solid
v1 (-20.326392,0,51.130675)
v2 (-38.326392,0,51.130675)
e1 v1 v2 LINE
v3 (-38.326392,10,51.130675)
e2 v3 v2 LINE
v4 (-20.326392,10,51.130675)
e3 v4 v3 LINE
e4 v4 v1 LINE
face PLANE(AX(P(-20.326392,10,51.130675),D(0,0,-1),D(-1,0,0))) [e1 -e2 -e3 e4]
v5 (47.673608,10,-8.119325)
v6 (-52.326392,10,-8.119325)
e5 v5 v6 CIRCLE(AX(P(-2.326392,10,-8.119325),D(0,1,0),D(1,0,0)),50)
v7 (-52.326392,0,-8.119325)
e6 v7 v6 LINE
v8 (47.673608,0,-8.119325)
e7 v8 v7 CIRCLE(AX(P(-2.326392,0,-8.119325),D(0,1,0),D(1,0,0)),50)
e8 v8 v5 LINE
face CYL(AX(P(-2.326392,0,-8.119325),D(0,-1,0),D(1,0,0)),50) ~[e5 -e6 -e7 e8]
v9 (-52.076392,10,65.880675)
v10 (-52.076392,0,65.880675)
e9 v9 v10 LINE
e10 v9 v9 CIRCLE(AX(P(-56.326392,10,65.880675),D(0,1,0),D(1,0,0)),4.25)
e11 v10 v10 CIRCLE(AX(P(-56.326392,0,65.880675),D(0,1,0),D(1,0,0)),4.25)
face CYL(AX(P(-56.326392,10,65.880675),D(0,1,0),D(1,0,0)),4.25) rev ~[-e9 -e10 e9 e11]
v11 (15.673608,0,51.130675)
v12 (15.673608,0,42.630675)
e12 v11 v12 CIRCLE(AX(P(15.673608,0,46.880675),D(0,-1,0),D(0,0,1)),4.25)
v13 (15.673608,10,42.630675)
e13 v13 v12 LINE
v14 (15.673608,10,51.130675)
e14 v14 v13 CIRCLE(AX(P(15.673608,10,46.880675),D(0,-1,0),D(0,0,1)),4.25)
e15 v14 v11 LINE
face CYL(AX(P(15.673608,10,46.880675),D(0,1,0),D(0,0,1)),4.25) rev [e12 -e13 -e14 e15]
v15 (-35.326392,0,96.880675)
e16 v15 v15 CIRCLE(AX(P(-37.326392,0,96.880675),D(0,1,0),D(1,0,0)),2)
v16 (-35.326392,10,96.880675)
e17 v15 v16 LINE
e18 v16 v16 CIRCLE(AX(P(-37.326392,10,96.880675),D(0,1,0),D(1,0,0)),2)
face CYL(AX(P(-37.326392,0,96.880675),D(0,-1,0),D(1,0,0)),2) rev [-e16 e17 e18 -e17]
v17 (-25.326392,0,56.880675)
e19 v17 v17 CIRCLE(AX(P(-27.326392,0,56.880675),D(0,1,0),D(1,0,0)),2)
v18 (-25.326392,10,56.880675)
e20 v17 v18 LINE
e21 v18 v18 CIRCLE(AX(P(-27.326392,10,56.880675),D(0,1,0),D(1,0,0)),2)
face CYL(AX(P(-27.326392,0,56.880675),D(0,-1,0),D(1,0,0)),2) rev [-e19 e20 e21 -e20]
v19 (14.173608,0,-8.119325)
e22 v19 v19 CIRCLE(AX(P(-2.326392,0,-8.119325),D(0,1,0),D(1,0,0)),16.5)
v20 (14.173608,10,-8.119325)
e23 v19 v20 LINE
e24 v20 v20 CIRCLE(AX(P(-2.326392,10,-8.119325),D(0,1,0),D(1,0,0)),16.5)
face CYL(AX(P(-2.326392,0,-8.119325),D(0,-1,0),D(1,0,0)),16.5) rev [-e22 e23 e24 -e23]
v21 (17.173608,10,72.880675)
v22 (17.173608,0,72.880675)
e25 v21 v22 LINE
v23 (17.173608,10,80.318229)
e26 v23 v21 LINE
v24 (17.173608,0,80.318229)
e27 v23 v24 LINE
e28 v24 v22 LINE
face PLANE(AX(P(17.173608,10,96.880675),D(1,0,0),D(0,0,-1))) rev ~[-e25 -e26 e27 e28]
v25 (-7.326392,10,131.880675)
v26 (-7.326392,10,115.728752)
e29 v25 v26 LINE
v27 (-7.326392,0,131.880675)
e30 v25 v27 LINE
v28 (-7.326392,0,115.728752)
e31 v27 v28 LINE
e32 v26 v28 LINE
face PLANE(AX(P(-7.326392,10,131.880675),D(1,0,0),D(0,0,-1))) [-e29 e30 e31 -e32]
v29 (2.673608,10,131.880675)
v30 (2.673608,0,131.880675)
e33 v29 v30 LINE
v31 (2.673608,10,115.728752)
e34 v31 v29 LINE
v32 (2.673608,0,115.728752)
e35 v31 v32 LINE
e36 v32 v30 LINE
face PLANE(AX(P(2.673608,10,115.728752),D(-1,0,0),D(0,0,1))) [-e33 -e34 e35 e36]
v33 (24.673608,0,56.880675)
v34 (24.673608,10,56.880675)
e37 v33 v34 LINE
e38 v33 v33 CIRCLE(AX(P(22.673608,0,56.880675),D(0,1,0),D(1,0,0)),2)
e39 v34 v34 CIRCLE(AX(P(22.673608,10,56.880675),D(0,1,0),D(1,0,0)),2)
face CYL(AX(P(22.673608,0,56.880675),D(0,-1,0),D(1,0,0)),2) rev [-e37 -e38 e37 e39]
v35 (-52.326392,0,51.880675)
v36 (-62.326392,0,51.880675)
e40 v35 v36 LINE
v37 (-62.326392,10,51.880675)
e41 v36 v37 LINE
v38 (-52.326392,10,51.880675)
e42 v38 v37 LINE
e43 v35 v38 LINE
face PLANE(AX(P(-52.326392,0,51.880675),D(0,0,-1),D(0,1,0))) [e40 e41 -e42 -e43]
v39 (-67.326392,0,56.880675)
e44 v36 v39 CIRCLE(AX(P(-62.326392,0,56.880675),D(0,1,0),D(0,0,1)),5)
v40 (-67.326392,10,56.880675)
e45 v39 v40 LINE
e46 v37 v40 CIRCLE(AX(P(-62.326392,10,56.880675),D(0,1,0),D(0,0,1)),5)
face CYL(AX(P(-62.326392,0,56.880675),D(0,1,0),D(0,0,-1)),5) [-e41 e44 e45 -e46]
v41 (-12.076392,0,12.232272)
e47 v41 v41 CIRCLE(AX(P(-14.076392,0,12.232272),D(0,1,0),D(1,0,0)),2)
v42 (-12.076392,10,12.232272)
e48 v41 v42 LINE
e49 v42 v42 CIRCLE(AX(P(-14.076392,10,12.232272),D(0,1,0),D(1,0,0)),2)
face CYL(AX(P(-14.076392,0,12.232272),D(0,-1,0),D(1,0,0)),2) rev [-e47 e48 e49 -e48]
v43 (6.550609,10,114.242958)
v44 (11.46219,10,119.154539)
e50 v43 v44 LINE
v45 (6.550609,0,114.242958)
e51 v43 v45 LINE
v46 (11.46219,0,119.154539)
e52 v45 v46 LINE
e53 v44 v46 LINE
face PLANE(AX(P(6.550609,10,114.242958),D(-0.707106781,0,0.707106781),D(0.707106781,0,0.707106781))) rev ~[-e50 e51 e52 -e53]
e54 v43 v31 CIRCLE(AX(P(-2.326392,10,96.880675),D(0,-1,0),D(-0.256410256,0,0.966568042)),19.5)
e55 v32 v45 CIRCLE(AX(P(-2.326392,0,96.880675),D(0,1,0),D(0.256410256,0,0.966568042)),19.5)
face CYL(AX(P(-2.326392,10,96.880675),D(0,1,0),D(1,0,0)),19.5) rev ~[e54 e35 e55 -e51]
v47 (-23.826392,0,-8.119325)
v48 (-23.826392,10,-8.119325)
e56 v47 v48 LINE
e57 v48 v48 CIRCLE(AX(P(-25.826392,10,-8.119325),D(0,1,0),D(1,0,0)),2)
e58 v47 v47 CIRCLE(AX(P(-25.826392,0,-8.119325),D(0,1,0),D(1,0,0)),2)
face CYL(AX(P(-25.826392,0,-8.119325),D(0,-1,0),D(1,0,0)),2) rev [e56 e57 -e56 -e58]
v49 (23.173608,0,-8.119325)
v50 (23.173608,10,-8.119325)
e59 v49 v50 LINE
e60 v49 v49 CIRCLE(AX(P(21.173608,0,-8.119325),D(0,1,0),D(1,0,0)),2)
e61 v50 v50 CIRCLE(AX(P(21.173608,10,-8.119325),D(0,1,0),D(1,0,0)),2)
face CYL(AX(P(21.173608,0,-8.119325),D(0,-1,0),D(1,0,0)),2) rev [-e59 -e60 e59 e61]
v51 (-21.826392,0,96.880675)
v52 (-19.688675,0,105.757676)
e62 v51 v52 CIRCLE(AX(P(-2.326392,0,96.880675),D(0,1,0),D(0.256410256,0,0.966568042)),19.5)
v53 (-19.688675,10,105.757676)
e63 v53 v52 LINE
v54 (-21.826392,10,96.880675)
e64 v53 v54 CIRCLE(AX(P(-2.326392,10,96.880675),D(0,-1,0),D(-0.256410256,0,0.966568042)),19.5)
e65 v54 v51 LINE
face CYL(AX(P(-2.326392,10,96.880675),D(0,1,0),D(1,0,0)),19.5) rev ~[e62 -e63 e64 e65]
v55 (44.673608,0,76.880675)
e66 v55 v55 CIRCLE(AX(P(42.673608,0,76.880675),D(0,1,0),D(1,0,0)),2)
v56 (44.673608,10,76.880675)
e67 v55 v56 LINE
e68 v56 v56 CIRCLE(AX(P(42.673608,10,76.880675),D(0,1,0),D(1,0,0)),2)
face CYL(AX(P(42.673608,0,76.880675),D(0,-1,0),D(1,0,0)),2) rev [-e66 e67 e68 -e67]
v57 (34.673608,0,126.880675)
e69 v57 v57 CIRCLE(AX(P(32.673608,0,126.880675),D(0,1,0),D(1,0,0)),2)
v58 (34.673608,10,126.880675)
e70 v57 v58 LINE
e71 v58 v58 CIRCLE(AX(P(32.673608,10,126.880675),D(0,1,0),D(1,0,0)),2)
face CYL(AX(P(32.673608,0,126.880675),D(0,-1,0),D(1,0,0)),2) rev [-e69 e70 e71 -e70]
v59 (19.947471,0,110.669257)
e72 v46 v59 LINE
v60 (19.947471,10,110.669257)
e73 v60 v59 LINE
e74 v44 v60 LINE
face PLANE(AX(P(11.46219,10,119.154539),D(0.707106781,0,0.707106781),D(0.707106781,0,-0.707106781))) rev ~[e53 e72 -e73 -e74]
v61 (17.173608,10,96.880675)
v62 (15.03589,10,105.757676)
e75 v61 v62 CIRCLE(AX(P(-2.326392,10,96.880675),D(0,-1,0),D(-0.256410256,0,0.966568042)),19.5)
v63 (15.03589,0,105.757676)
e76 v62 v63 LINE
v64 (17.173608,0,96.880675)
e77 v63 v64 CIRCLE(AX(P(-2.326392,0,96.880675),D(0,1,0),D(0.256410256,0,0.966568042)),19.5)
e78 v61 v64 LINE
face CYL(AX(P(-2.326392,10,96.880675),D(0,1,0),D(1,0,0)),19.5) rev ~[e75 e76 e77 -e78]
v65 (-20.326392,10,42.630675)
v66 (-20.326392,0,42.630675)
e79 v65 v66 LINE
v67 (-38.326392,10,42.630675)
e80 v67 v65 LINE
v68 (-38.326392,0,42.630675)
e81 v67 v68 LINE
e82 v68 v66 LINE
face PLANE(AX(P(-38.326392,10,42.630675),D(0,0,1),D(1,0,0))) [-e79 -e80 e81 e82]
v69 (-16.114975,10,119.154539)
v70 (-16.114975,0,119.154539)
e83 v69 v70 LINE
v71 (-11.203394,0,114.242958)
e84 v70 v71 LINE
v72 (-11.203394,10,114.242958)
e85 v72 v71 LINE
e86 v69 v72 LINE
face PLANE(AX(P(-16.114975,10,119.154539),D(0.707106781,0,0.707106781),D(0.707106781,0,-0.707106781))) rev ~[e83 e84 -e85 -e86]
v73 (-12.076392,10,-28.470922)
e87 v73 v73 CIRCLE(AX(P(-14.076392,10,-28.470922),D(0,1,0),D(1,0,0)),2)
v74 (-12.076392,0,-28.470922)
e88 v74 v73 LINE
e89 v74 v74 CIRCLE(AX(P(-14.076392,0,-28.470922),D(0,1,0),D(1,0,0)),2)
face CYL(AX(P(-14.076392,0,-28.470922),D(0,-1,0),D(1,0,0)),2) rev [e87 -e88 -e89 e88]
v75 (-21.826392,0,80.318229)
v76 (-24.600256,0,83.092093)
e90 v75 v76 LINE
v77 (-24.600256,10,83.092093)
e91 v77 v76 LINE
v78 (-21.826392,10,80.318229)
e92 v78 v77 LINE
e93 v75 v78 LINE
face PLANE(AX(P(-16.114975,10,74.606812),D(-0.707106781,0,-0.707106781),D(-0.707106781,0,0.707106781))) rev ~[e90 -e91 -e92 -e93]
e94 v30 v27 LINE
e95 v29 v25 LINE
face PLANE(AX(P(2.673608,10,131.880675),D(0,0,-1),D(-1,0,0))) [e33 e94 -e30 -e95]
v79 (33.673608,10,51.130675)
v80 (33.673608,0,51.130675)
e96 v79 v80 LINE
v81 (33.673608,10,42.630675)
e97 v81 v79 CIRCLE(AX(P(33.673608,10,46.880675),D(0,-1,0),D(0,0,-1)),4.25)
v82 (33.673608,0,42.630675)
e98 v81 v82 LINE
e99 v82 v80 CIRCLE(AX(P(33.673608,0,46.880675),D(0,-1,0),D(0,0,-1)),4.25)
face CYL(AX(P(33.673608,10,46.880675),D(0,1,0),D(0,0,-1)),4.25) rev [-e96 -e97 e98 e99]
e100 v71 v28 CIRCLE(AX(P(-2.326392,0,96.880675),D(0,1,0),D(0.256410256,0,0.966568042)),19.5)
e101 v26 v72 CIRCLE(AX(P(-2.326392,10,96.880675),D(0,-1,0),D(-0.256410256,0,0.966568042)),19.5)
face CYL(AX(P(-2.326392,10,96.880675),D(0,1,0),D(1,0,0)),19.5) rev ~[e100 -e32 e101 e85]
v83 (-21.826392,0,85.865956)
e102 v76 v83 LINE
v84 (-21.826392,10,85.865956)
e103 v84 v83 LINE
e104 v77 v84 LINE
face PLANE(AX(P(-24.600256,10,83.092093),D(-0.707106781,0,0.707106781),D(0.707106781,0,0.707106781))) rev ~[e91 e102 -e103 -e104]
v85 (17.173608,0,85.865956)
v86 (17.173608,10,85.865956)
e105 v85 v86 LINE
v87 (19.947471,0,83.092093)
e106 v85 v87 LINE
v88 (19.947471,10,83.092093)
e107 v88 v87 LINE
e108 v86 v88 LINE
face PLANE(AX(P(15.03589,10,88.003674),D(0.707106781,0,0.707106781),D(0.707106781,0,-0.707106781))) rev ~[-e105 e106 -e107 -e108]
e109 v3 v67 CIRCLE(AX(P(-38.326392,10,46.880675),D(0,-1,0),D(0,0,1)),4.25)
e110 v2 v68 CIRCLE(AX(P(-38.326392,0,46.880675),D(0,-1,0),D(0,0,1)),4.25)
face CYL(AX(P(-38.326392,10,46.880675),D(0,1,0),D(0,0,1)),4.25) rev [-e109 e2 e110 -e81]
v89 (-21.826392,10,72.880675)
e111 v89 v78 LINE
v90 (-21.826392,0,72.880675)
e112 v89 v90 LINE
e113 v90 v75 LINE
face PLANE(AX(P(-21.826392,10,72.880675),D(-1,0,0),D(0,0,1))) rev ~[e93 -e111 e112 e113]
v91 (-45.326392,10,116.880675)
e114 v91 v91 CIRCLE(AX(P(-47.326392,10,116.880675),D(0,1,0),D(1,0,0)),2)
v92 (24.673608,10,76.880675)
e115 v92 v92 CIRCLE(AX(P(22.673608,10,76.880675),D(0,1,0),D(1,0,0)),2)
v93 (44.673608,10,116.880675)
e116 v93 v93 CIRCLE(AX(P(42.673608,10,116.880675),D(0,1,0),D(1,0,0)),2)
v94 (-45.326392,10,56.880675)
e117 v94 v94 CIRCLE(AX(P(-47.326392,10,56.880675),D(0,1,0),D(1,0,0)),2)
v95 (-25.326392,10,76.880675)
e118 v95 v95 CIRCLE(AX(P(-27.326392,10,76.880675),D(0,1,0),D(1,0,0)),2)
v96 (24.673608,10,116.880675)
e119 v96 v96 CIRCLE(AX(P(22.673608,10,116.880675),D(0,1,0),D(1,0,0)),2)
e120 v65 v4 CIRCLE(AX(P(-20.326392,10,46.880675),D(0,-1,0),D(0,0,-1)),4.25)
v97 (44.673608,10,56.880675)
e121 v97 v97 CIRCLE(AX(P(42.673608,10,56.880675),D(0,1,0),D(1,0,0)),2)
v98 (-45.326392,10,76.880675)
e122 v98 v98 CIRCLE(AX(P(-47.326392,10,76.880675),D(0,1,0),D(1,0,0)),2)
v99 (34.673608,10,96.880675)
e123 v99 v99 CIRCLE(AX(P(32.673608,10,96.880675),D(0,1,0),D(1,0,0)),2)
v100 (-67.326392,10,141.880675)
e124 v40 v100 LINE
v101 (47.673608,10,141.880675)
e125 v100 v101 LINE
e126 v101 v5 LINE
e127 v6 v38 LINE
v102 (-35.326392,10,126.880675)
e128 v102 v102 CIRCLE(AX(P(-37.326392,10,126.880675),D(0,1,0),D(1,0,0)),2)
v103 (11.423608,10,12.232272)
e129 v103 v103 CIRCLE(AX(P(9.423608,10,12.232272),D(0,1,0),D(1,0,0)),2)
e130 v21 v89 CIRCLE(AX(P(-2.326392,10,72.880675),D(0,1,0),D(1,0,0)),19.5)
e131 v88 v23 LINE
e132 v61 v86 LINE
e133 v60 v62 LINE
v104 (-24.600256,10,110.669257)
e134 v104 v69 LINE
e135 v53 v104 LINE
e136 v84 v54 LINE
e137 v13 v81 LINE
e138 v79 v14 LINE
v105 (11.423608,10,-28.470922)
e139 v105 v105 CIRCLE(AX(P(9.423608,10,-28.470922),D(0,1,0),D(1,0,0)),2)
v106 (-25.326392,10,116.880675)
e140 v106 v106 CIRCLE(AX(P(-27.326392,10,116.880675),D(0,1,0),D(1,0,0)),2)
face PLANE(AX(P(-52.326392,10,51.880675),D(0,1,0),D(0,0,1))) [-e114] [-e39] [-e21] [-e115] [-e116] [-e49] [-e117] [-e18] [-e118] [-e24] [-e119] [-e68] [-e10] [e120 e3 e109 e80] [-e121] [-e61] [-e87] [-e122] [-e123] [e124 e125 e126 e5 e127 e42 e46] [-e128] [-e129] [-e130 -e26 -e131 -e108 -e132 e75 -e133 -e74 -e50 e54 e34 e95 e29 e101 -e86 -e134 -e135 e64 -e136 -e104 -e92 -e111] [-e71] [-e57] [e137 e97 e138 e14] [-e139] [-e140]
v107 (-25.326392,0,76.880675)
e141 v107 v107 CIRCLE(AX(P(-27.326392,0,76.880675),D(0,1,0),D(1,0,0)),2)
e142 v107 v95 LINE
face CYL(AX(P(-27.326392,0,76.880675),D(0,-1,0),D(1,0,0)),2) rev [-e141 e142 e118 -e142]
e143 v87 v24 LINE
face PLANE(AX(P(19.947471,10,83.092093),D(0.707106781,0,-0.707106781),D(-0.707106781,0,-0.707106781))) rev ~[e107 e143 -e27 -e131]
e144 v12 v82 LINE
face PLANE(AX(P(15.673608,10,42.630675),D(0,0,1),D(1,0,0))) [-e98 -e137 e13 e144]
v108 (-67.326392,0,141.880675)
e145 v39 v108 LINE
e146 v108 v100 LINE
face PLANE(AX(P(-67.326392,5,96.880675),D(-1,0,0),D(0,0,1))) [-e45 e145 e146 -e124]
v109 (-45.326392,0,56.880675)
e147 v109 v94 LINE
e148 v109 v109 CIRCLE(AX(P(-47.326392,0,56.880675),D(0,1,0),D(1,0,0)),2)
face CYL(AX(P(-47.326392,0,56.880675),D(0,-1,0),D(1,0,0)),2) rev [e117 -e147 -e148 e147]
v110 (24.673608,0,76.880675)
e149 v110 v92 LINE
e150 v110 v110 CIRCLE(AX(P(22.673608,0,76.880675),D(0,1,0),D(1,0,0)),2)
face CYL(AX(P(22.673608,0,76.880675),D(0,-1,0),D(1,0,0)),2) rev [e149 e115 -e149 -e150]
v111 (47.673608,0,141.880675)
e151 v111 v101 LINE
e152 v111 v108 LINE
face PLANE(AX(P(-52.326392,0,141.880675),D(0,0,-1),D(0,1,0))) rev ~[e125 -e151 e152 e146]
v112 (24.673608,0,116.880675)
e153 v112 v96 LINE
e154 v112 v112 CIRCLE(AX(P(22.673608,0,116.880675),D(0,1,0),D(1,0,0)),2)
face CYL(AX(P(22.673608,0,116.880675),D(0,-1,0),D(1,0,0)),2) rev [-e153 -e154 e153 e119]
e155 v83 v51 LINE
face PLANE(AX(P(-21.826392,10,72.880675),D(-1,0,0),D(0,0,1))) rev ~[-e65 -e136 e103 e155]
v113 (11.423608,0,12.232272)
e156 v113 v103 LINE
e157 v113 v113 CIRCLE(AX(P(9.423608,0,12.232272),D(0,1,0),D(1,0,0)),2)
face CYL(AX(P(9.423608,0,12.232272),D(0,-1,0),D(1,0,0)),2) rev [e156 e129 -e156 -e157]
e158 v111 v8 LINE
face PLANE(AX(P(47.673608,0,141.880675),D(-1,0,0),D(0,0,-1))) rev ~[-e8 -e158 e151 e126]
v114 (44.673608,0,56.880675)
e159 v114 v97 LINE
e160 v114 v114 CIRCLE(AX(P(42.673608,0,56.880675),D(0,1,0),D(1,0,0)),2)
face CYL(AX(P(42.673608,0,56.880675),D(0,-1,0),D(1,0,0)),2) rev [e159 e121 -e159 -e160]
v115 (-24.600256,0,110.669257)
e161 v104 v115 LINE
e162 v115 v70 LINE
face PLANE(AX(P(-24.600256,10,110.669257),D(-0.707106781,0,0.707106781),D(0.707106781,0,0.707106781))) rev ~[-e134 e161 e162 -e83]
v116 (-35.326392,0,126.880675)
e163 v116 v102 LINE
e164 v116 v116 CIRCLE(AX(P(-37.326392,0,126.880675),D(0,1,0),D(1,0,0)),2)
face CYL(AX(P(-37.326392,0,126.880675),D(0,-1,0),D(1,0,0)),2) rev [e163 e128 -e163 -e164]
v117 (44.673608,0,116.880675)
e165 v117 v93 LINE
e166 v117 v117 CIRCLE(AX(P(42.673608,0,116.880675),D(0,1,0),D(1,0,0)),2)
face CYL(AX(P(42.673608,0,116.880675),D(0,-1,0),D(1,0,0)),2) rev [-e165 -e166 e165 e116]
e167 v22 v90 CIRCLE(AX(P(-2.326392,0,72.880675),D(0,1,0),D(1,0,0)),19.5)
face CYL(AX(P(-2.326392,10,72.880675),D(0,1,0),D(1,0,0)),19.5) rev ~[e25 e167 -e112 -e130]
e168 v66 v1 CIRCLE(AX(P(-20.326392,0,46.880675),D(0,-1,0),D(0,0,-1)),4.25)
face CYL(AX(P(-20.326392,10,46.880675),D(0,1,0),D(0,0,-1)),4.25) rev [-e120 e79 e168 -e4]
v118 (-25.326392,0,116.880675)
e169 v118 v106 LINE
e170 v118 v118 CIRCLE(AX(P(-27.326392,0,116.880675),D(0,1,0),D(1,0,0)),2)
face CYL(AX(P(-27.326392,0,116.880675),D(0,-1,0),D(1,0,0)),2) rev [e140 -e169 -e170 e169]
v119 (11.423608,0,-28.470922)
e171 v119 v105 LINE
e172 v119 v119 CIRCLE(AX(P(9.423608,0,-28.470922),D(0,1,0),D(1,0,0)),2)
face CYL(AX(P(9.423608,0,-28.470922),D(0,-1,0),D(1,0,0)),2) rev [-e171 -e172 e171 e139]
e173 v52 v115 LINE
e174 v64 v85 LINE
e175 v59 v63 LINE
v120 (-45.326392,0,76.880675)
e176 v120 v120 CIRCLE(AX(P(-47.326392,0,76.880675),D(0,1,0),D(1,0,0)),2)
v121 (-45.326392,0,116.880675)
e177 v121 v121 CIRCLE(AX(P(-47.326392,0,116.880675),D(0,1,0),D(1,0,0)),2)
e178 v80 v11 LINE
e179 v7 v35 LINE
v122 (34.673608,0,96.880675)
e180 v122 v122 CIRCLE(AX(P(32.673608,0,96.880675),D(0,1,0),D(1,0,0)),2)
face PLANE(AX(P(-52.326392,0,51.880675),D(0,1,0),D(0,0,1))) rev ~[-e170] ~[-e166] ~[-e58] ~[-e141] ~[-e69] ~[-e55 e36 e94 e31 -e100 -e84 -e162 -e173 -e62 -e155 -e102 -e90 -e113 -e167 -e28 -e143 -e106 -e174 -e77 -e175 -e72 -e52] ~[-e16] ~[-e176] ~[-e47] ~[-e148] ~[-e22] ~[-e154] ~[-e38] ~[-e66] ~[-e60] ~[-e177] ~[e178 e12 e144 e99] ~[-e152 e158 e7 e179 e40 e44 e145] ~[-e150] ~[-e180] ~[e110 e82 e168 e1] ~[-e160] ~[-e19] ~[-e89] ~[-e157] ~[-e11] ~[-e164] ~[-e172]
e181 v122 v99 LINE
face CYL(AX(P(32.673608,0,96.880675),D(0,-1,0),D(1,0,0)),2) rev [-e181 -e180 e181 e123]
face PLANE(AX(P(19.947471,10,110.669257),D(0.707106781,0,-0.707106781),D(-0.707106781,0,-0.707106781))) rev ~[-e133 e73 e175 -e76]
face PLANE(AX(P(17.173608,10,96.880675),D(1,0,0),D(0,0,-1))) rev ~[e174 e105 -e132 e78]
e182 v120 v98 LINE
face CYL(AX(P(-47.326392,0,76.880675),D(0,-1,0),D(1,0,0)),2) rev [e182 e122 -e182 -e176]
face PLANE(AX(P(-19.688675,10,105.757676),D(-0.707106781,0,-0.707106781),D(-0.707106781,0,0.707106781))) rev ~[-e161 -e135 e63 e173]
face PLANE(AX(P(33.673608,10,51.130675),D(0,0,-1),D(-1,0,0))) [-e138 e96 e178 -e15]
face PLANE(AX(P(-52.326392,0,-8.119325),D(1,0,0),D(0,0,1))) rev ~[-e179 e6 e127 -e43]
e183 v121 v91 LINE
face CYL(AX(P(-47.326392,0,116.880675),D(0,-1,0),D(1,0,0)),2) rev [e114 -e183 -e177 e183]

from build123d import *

# Parameters (mm, degrees)
SKETCH1_R           = 16.5
SKETCH1_R_2         = 2
BOSS_EXTRUDE3_DEPTH = 10
SKETCH2_R           = 19.5
CUT_EXTRUDE1_DEPTH  = 10
CUT_EXTRUDE2_DEPTH  = 10
CUT_EXTRUDE3_DEPTH  = 10
CUT_EXTRUDE6_DEPTH  = 10
SKETCH9_W           = 90
SKETCH9_H           = 10
BOSS_EXTRUDE4_DEPTH = 15
FILLET1_R           = 5
SKETCH10_R          = 4.25
CUT_EXTRUDE7_DEPTH  = 10
CUT_EXTRUDE8_DEPTH  = 10


with BuildPart() as part:
    # Sketch1 → Boss-Extrude3 (new body)
    with BuildSketch(Plane(origin=(0, 0, 0), x_dir=(1, 0, 0), z_dir=(0, 1, 0))):
        with BuildLine():
            Line((-52.326392464, -141.880675109), (47.673607536, -141.880675109))
            Line((47.673607536, -141.880675109), (47.673607536, 8.119324891))
            ThreePointArc((47.673607536, 8.119324891), (-2.326392464, 58.119324891), (-52.326392464, 8.119324891))
            Line((-52.326392464, 8.119324891), (-52.326392464, -141.880675109))
        make_face()
        with Locations((-2.326392464, 8.119324891)):
            Circle(SKETCH1_R, mode=Mode.SUBTRACT)
        with Locations((21.173607536, 8.119324891)):
            Circle(SKETCH1_R_2, mode=Mode.SUBTRACT)
        with Locations((9.423607536, -12.232272098)):
            Circle(SKETCH1_R_2, mode=Mode.SUBTRACT)
        with Locations((-14.076392464, -12.232272098)):
            Circle(SKETCH1_R_2, mode=Mode.SUBTRACT)
        with Locations((-25.826392464, 8.119324891)):
            Circle(SKETCH1_R_2, mode=Mode.SUBTRACT)
        with Locations((-14.076392464, 28.47092188)):
            Circle(SKETCH1_R_2, mode=Mode.SUBTRACT)
        with Locations((9.423607536, 28.47092188)):
            Circle(SKETCH1_R_2, mode=Mode.SUBTRACT)
        with Locations((-47.326392464, -116.880675109)):
            Circle(SKETCH1_R_2, mode=Mode.SUBTRACT)
        with Locations((42.673607536, -116.880675109)):
            Circle(SKETCH1_R_2, mode=Mode.SUBTRACT)
        with Locations((-37.326392464, -126.880675109)):
            Circle(SKETCH1_R_2, mode=Mode.SUBTRACT)
        with Locations((-37.326392464, -96.880675109)):
            Circle(SKETCH1_R_2, mode=Mode.SUBTRACT)
        with Locations((-47.326392464, -76.880675109)):
            Circle(SKETCH1_R_2, mode=Mode.SUBTRACT)
        with Locations((42.673607536, -76.880675109)):
            Circle(SKETCH1_R_2, mode=Mode.SUBTRACT)
        with Locations((-47.326392464, -56.880675109)):
            Circle(SKETCH1_R_2, mode=Mode.SUBTRACT)
        with Locations((42.673607536, -56.880675109)):
            Circle(SKETCH1_R_2, mode=Mode.SUBTRACT)
        with Locations((-27.326392464, -116.880675109)):
            Circle(SKETCH1_R_2, mode=Mode.SUBTRACT)
        with Locations((22.673607536, -116.880675109)):
            Circle(SKETCH1_R_2, mode=Mode.SUBTRACT)
        with Locations((-27.326392464, -56.880675109)):
            Circle(SKETCH1_R_2, mode=Mode.SUBTRACT)
        with Locations((-27.326392464, -76.880675109)):
            Circle(SKETCH1_R_2, mode=Mode.SUBTRACT)
        with Locations((22.673607536, -56.880675109)):
            Circle(SKETCH1_R_2, mode=Mode.SUBTRACT)
        with Locations((22.673607536, -76.880675109)):
            Circle(SKETCH1_R_2, mode=Mode.SUBTRACT)
        with Locations((32.673607536, -96.880675109)):
            Circle(SKETCH1_R_2, mode=Mode.SUBTRACT)
        with Locations((32.673607536, -126.880675109)):
            Circle(SKETCH1_R_2, mode=Mode.SUBTRACT)
    extrude(amount=BOSS_EXTRUDE3_DEPTH)

    # Sketch2 → Cut-Extrude1 (cut)
    with BuildSketch(Plane(origin=(0, 10, 0), x_dir=(1, 0, 0), z_dir=(0, 1, 0))):
        with Locations((-2.326392464, -96.880675109)):
            Circle(SKETCH2_R)
    extrude(amount=-CUT_EXTRUDE1_DEPTH, mode=Mode.SUBTRACT)

    # Sketch3 → Cut-Extrude2 (cut)
    with BuildSketch(Plane(origin=(0, 10, 0), x_dir=(1, 0, 0), z_dir=(0, 1, 0))):
        with BuildLine():
            Line((-7.326392464, -131.880675109), (-7.326392464, -115.728751934))
            ThreePointArc((-7.326392464, -115.728751934), (-2.326392464, -116.380675109), (2.673607536, -115.728751934))
            Line((2.673607536, -115.728751934), (2.673607536, -131.880675109))
            Line((2.673607536, -131.880675109), (-7.326392464, -131.880675109))
        make_face()
    extrude(amount=-CUT_EXTRUDE2_DEPTH, mode=Mode.SUBTRACT)

    # Sketch4 → Cut-Extrude3 (cut)
    with BuildSketch(Plane(origin=(0, 10, 0), x_dir=(1, 0, 0), z_dir=(0, 1, 0))):
        with BuildLine():
            ThreePointArc((-19.688674915, -88.003674033), (-16.114974697, -83.092092876), (-11.203393541, -79.518392659))
            Line((-11.203393541, -79.518392659), (-16.114974697, -74.606811502))
            Line((-16.114974697, -74.606811502), (-24.600256072, -83.092092876))
            Line((-24.600256072, -83.092092876), (-19.688674915, -88.003674033))
        make_face()
        with BuildLine():
            Line((11.462189769, -74.606811502), (6.550608612, -79.518392659))
            ThreePointArc((6.550608612, -79.518392659), (11.462189769, -83.092092876), (15.035889986, -88.003674033))
            Line((15.035889986, -88.003674033), (19.947471143, -83.092092876))
            Line((19.947471143, -83.092092876), (11.462189769, -74.606811502))
        make_face()
        with BuildLine():
            Line((19.947471143, -110.669257342), (15.035889986, -105.757676186))
            ThreePointArc((15.035889986, -105.757676186), (11.462189769, -110.669257342), (6.550608612, -114.24295756))
            Line((6.550608612, -114.24295756), (11.462189769, -119.154538717))
            Line((11.462189769, -119.154538717), (19.947471143, -110.669257342))
        make_face()
        with BuildLine():
            ThreePointArc((-11.203393541, -114.24295756), (-16.114974697, -110.669257342), (-19.688674915, -105.757676186))
            Line((-19.688674915, -105.757676186), (-24.600256072, -110.669257342))
            Line((-24.600256072, -110.669257342), (-16.114974697, -119.154538717))
            Line((-16.114974697, -119.154538717), (-11.203393541, -114.24295756))
        make_face()
    extrude(amount=-CUT_EXTRUDE3_DEPTH, mode=Mode.SUBTRACT)

    # Sketch8 → Cut-Extrude6 (cut)
    with BuildSketch(Plane(origin=(0, 10, 0), x_dir=(1, 0, 0), z_dir=(0, 1, 0))):
        with BuildLine():
            Line((-21.826392464, -96.880675109), (17.173607536, -96.880675109))
            Line((17.173607536, -96.880675109), (17.173607536, -72.880675109))
            ThreePointArc((17.173607536, -72.880675109), (-2.326392464, -53.380675109), (-21.826392464, -72.880675109))
            Line((-21.826392464, -72.880675109), (-21.826392464, -96.880675109))
        make_face()
    extrude(amount=-CUT_EXTRUDE6_DEPTH, mode=Mode.SUBTRACT)

    # Sketch9 → Boss-Extrude4 (add)
    with BuildSketch(Plane.ZY.offset(52.326392464)):
        with Locations((96.880675109, 5)):
            Rectangle(SKETCH9_W, SKETCH9_H)
    extrude(amount=BOSS_EXTRUDE4_DEPTH)

    # Fillet1
    fillet1_edges = [part.edges().sort_by_distance(p)[0] for p in [
        (-67.326392464, 5, 51.880675109),
    ]]
    fillet(fillet1_edges, radius=FILLET1_R)

    # Sketch10 → Cut-Extrude7 (cut)
    with BuildSketch(Plane(origin=(0, 10, 0), x_dir=(1, 0, 0), z_dir=(0, 1, 0))):
        with Locations((-56.326392464, -65.880675109)):
            Circle(SKETCH10_R)
    extrude(amount=-CUT_EXTRUDE7_DEPTH, mode=Mode.SUBTRACT)

    # Sketch11 → Cut-Extrude8 (cut)
    with BuildSketch(Plane(origin=(0, 10, 0), x_dir=(1, 0, 0), z_dir=(0, 1, 0))):
        with BuildLine():
            Line((15.673607536, -42.630675109), (33.673607536, -42.630675109))
            ThreePointArc((33.673607536, -42.630675109), (37.923607536, -46.880675109), (33.673607536, -51.130675109))
            Line((33.673607536, -51.130675109), (15.673607536, -51.130675109))
            ThreePointArc((15.673607536, -51.130675109), (11.423607536, -46.880675109), (15.673607536, -42.630675109))
        make_face()
        with BuildLine():
            Line((-38.326392464, -42.630675109), (-20.326392464, -42.630675109))
            ThreePointArc((-20.326392464, -42.630675109), (-16.076392464, -46.880675109), (-20.326392464, -51.130675109))
            Line((-20.326392464, -51.130675109), (-38.326392464, -51.130675109))
            ThreePointArc((-38.326392464, -51.130675109), (-42.576392464, -46.880675109), (-38.326392464, -42.630675109))
        make_face()
    extrude(amount=-CUT_EXTRUDE8_DEPTH, mode=Mode.SUBTRACT)


solid = part.part
